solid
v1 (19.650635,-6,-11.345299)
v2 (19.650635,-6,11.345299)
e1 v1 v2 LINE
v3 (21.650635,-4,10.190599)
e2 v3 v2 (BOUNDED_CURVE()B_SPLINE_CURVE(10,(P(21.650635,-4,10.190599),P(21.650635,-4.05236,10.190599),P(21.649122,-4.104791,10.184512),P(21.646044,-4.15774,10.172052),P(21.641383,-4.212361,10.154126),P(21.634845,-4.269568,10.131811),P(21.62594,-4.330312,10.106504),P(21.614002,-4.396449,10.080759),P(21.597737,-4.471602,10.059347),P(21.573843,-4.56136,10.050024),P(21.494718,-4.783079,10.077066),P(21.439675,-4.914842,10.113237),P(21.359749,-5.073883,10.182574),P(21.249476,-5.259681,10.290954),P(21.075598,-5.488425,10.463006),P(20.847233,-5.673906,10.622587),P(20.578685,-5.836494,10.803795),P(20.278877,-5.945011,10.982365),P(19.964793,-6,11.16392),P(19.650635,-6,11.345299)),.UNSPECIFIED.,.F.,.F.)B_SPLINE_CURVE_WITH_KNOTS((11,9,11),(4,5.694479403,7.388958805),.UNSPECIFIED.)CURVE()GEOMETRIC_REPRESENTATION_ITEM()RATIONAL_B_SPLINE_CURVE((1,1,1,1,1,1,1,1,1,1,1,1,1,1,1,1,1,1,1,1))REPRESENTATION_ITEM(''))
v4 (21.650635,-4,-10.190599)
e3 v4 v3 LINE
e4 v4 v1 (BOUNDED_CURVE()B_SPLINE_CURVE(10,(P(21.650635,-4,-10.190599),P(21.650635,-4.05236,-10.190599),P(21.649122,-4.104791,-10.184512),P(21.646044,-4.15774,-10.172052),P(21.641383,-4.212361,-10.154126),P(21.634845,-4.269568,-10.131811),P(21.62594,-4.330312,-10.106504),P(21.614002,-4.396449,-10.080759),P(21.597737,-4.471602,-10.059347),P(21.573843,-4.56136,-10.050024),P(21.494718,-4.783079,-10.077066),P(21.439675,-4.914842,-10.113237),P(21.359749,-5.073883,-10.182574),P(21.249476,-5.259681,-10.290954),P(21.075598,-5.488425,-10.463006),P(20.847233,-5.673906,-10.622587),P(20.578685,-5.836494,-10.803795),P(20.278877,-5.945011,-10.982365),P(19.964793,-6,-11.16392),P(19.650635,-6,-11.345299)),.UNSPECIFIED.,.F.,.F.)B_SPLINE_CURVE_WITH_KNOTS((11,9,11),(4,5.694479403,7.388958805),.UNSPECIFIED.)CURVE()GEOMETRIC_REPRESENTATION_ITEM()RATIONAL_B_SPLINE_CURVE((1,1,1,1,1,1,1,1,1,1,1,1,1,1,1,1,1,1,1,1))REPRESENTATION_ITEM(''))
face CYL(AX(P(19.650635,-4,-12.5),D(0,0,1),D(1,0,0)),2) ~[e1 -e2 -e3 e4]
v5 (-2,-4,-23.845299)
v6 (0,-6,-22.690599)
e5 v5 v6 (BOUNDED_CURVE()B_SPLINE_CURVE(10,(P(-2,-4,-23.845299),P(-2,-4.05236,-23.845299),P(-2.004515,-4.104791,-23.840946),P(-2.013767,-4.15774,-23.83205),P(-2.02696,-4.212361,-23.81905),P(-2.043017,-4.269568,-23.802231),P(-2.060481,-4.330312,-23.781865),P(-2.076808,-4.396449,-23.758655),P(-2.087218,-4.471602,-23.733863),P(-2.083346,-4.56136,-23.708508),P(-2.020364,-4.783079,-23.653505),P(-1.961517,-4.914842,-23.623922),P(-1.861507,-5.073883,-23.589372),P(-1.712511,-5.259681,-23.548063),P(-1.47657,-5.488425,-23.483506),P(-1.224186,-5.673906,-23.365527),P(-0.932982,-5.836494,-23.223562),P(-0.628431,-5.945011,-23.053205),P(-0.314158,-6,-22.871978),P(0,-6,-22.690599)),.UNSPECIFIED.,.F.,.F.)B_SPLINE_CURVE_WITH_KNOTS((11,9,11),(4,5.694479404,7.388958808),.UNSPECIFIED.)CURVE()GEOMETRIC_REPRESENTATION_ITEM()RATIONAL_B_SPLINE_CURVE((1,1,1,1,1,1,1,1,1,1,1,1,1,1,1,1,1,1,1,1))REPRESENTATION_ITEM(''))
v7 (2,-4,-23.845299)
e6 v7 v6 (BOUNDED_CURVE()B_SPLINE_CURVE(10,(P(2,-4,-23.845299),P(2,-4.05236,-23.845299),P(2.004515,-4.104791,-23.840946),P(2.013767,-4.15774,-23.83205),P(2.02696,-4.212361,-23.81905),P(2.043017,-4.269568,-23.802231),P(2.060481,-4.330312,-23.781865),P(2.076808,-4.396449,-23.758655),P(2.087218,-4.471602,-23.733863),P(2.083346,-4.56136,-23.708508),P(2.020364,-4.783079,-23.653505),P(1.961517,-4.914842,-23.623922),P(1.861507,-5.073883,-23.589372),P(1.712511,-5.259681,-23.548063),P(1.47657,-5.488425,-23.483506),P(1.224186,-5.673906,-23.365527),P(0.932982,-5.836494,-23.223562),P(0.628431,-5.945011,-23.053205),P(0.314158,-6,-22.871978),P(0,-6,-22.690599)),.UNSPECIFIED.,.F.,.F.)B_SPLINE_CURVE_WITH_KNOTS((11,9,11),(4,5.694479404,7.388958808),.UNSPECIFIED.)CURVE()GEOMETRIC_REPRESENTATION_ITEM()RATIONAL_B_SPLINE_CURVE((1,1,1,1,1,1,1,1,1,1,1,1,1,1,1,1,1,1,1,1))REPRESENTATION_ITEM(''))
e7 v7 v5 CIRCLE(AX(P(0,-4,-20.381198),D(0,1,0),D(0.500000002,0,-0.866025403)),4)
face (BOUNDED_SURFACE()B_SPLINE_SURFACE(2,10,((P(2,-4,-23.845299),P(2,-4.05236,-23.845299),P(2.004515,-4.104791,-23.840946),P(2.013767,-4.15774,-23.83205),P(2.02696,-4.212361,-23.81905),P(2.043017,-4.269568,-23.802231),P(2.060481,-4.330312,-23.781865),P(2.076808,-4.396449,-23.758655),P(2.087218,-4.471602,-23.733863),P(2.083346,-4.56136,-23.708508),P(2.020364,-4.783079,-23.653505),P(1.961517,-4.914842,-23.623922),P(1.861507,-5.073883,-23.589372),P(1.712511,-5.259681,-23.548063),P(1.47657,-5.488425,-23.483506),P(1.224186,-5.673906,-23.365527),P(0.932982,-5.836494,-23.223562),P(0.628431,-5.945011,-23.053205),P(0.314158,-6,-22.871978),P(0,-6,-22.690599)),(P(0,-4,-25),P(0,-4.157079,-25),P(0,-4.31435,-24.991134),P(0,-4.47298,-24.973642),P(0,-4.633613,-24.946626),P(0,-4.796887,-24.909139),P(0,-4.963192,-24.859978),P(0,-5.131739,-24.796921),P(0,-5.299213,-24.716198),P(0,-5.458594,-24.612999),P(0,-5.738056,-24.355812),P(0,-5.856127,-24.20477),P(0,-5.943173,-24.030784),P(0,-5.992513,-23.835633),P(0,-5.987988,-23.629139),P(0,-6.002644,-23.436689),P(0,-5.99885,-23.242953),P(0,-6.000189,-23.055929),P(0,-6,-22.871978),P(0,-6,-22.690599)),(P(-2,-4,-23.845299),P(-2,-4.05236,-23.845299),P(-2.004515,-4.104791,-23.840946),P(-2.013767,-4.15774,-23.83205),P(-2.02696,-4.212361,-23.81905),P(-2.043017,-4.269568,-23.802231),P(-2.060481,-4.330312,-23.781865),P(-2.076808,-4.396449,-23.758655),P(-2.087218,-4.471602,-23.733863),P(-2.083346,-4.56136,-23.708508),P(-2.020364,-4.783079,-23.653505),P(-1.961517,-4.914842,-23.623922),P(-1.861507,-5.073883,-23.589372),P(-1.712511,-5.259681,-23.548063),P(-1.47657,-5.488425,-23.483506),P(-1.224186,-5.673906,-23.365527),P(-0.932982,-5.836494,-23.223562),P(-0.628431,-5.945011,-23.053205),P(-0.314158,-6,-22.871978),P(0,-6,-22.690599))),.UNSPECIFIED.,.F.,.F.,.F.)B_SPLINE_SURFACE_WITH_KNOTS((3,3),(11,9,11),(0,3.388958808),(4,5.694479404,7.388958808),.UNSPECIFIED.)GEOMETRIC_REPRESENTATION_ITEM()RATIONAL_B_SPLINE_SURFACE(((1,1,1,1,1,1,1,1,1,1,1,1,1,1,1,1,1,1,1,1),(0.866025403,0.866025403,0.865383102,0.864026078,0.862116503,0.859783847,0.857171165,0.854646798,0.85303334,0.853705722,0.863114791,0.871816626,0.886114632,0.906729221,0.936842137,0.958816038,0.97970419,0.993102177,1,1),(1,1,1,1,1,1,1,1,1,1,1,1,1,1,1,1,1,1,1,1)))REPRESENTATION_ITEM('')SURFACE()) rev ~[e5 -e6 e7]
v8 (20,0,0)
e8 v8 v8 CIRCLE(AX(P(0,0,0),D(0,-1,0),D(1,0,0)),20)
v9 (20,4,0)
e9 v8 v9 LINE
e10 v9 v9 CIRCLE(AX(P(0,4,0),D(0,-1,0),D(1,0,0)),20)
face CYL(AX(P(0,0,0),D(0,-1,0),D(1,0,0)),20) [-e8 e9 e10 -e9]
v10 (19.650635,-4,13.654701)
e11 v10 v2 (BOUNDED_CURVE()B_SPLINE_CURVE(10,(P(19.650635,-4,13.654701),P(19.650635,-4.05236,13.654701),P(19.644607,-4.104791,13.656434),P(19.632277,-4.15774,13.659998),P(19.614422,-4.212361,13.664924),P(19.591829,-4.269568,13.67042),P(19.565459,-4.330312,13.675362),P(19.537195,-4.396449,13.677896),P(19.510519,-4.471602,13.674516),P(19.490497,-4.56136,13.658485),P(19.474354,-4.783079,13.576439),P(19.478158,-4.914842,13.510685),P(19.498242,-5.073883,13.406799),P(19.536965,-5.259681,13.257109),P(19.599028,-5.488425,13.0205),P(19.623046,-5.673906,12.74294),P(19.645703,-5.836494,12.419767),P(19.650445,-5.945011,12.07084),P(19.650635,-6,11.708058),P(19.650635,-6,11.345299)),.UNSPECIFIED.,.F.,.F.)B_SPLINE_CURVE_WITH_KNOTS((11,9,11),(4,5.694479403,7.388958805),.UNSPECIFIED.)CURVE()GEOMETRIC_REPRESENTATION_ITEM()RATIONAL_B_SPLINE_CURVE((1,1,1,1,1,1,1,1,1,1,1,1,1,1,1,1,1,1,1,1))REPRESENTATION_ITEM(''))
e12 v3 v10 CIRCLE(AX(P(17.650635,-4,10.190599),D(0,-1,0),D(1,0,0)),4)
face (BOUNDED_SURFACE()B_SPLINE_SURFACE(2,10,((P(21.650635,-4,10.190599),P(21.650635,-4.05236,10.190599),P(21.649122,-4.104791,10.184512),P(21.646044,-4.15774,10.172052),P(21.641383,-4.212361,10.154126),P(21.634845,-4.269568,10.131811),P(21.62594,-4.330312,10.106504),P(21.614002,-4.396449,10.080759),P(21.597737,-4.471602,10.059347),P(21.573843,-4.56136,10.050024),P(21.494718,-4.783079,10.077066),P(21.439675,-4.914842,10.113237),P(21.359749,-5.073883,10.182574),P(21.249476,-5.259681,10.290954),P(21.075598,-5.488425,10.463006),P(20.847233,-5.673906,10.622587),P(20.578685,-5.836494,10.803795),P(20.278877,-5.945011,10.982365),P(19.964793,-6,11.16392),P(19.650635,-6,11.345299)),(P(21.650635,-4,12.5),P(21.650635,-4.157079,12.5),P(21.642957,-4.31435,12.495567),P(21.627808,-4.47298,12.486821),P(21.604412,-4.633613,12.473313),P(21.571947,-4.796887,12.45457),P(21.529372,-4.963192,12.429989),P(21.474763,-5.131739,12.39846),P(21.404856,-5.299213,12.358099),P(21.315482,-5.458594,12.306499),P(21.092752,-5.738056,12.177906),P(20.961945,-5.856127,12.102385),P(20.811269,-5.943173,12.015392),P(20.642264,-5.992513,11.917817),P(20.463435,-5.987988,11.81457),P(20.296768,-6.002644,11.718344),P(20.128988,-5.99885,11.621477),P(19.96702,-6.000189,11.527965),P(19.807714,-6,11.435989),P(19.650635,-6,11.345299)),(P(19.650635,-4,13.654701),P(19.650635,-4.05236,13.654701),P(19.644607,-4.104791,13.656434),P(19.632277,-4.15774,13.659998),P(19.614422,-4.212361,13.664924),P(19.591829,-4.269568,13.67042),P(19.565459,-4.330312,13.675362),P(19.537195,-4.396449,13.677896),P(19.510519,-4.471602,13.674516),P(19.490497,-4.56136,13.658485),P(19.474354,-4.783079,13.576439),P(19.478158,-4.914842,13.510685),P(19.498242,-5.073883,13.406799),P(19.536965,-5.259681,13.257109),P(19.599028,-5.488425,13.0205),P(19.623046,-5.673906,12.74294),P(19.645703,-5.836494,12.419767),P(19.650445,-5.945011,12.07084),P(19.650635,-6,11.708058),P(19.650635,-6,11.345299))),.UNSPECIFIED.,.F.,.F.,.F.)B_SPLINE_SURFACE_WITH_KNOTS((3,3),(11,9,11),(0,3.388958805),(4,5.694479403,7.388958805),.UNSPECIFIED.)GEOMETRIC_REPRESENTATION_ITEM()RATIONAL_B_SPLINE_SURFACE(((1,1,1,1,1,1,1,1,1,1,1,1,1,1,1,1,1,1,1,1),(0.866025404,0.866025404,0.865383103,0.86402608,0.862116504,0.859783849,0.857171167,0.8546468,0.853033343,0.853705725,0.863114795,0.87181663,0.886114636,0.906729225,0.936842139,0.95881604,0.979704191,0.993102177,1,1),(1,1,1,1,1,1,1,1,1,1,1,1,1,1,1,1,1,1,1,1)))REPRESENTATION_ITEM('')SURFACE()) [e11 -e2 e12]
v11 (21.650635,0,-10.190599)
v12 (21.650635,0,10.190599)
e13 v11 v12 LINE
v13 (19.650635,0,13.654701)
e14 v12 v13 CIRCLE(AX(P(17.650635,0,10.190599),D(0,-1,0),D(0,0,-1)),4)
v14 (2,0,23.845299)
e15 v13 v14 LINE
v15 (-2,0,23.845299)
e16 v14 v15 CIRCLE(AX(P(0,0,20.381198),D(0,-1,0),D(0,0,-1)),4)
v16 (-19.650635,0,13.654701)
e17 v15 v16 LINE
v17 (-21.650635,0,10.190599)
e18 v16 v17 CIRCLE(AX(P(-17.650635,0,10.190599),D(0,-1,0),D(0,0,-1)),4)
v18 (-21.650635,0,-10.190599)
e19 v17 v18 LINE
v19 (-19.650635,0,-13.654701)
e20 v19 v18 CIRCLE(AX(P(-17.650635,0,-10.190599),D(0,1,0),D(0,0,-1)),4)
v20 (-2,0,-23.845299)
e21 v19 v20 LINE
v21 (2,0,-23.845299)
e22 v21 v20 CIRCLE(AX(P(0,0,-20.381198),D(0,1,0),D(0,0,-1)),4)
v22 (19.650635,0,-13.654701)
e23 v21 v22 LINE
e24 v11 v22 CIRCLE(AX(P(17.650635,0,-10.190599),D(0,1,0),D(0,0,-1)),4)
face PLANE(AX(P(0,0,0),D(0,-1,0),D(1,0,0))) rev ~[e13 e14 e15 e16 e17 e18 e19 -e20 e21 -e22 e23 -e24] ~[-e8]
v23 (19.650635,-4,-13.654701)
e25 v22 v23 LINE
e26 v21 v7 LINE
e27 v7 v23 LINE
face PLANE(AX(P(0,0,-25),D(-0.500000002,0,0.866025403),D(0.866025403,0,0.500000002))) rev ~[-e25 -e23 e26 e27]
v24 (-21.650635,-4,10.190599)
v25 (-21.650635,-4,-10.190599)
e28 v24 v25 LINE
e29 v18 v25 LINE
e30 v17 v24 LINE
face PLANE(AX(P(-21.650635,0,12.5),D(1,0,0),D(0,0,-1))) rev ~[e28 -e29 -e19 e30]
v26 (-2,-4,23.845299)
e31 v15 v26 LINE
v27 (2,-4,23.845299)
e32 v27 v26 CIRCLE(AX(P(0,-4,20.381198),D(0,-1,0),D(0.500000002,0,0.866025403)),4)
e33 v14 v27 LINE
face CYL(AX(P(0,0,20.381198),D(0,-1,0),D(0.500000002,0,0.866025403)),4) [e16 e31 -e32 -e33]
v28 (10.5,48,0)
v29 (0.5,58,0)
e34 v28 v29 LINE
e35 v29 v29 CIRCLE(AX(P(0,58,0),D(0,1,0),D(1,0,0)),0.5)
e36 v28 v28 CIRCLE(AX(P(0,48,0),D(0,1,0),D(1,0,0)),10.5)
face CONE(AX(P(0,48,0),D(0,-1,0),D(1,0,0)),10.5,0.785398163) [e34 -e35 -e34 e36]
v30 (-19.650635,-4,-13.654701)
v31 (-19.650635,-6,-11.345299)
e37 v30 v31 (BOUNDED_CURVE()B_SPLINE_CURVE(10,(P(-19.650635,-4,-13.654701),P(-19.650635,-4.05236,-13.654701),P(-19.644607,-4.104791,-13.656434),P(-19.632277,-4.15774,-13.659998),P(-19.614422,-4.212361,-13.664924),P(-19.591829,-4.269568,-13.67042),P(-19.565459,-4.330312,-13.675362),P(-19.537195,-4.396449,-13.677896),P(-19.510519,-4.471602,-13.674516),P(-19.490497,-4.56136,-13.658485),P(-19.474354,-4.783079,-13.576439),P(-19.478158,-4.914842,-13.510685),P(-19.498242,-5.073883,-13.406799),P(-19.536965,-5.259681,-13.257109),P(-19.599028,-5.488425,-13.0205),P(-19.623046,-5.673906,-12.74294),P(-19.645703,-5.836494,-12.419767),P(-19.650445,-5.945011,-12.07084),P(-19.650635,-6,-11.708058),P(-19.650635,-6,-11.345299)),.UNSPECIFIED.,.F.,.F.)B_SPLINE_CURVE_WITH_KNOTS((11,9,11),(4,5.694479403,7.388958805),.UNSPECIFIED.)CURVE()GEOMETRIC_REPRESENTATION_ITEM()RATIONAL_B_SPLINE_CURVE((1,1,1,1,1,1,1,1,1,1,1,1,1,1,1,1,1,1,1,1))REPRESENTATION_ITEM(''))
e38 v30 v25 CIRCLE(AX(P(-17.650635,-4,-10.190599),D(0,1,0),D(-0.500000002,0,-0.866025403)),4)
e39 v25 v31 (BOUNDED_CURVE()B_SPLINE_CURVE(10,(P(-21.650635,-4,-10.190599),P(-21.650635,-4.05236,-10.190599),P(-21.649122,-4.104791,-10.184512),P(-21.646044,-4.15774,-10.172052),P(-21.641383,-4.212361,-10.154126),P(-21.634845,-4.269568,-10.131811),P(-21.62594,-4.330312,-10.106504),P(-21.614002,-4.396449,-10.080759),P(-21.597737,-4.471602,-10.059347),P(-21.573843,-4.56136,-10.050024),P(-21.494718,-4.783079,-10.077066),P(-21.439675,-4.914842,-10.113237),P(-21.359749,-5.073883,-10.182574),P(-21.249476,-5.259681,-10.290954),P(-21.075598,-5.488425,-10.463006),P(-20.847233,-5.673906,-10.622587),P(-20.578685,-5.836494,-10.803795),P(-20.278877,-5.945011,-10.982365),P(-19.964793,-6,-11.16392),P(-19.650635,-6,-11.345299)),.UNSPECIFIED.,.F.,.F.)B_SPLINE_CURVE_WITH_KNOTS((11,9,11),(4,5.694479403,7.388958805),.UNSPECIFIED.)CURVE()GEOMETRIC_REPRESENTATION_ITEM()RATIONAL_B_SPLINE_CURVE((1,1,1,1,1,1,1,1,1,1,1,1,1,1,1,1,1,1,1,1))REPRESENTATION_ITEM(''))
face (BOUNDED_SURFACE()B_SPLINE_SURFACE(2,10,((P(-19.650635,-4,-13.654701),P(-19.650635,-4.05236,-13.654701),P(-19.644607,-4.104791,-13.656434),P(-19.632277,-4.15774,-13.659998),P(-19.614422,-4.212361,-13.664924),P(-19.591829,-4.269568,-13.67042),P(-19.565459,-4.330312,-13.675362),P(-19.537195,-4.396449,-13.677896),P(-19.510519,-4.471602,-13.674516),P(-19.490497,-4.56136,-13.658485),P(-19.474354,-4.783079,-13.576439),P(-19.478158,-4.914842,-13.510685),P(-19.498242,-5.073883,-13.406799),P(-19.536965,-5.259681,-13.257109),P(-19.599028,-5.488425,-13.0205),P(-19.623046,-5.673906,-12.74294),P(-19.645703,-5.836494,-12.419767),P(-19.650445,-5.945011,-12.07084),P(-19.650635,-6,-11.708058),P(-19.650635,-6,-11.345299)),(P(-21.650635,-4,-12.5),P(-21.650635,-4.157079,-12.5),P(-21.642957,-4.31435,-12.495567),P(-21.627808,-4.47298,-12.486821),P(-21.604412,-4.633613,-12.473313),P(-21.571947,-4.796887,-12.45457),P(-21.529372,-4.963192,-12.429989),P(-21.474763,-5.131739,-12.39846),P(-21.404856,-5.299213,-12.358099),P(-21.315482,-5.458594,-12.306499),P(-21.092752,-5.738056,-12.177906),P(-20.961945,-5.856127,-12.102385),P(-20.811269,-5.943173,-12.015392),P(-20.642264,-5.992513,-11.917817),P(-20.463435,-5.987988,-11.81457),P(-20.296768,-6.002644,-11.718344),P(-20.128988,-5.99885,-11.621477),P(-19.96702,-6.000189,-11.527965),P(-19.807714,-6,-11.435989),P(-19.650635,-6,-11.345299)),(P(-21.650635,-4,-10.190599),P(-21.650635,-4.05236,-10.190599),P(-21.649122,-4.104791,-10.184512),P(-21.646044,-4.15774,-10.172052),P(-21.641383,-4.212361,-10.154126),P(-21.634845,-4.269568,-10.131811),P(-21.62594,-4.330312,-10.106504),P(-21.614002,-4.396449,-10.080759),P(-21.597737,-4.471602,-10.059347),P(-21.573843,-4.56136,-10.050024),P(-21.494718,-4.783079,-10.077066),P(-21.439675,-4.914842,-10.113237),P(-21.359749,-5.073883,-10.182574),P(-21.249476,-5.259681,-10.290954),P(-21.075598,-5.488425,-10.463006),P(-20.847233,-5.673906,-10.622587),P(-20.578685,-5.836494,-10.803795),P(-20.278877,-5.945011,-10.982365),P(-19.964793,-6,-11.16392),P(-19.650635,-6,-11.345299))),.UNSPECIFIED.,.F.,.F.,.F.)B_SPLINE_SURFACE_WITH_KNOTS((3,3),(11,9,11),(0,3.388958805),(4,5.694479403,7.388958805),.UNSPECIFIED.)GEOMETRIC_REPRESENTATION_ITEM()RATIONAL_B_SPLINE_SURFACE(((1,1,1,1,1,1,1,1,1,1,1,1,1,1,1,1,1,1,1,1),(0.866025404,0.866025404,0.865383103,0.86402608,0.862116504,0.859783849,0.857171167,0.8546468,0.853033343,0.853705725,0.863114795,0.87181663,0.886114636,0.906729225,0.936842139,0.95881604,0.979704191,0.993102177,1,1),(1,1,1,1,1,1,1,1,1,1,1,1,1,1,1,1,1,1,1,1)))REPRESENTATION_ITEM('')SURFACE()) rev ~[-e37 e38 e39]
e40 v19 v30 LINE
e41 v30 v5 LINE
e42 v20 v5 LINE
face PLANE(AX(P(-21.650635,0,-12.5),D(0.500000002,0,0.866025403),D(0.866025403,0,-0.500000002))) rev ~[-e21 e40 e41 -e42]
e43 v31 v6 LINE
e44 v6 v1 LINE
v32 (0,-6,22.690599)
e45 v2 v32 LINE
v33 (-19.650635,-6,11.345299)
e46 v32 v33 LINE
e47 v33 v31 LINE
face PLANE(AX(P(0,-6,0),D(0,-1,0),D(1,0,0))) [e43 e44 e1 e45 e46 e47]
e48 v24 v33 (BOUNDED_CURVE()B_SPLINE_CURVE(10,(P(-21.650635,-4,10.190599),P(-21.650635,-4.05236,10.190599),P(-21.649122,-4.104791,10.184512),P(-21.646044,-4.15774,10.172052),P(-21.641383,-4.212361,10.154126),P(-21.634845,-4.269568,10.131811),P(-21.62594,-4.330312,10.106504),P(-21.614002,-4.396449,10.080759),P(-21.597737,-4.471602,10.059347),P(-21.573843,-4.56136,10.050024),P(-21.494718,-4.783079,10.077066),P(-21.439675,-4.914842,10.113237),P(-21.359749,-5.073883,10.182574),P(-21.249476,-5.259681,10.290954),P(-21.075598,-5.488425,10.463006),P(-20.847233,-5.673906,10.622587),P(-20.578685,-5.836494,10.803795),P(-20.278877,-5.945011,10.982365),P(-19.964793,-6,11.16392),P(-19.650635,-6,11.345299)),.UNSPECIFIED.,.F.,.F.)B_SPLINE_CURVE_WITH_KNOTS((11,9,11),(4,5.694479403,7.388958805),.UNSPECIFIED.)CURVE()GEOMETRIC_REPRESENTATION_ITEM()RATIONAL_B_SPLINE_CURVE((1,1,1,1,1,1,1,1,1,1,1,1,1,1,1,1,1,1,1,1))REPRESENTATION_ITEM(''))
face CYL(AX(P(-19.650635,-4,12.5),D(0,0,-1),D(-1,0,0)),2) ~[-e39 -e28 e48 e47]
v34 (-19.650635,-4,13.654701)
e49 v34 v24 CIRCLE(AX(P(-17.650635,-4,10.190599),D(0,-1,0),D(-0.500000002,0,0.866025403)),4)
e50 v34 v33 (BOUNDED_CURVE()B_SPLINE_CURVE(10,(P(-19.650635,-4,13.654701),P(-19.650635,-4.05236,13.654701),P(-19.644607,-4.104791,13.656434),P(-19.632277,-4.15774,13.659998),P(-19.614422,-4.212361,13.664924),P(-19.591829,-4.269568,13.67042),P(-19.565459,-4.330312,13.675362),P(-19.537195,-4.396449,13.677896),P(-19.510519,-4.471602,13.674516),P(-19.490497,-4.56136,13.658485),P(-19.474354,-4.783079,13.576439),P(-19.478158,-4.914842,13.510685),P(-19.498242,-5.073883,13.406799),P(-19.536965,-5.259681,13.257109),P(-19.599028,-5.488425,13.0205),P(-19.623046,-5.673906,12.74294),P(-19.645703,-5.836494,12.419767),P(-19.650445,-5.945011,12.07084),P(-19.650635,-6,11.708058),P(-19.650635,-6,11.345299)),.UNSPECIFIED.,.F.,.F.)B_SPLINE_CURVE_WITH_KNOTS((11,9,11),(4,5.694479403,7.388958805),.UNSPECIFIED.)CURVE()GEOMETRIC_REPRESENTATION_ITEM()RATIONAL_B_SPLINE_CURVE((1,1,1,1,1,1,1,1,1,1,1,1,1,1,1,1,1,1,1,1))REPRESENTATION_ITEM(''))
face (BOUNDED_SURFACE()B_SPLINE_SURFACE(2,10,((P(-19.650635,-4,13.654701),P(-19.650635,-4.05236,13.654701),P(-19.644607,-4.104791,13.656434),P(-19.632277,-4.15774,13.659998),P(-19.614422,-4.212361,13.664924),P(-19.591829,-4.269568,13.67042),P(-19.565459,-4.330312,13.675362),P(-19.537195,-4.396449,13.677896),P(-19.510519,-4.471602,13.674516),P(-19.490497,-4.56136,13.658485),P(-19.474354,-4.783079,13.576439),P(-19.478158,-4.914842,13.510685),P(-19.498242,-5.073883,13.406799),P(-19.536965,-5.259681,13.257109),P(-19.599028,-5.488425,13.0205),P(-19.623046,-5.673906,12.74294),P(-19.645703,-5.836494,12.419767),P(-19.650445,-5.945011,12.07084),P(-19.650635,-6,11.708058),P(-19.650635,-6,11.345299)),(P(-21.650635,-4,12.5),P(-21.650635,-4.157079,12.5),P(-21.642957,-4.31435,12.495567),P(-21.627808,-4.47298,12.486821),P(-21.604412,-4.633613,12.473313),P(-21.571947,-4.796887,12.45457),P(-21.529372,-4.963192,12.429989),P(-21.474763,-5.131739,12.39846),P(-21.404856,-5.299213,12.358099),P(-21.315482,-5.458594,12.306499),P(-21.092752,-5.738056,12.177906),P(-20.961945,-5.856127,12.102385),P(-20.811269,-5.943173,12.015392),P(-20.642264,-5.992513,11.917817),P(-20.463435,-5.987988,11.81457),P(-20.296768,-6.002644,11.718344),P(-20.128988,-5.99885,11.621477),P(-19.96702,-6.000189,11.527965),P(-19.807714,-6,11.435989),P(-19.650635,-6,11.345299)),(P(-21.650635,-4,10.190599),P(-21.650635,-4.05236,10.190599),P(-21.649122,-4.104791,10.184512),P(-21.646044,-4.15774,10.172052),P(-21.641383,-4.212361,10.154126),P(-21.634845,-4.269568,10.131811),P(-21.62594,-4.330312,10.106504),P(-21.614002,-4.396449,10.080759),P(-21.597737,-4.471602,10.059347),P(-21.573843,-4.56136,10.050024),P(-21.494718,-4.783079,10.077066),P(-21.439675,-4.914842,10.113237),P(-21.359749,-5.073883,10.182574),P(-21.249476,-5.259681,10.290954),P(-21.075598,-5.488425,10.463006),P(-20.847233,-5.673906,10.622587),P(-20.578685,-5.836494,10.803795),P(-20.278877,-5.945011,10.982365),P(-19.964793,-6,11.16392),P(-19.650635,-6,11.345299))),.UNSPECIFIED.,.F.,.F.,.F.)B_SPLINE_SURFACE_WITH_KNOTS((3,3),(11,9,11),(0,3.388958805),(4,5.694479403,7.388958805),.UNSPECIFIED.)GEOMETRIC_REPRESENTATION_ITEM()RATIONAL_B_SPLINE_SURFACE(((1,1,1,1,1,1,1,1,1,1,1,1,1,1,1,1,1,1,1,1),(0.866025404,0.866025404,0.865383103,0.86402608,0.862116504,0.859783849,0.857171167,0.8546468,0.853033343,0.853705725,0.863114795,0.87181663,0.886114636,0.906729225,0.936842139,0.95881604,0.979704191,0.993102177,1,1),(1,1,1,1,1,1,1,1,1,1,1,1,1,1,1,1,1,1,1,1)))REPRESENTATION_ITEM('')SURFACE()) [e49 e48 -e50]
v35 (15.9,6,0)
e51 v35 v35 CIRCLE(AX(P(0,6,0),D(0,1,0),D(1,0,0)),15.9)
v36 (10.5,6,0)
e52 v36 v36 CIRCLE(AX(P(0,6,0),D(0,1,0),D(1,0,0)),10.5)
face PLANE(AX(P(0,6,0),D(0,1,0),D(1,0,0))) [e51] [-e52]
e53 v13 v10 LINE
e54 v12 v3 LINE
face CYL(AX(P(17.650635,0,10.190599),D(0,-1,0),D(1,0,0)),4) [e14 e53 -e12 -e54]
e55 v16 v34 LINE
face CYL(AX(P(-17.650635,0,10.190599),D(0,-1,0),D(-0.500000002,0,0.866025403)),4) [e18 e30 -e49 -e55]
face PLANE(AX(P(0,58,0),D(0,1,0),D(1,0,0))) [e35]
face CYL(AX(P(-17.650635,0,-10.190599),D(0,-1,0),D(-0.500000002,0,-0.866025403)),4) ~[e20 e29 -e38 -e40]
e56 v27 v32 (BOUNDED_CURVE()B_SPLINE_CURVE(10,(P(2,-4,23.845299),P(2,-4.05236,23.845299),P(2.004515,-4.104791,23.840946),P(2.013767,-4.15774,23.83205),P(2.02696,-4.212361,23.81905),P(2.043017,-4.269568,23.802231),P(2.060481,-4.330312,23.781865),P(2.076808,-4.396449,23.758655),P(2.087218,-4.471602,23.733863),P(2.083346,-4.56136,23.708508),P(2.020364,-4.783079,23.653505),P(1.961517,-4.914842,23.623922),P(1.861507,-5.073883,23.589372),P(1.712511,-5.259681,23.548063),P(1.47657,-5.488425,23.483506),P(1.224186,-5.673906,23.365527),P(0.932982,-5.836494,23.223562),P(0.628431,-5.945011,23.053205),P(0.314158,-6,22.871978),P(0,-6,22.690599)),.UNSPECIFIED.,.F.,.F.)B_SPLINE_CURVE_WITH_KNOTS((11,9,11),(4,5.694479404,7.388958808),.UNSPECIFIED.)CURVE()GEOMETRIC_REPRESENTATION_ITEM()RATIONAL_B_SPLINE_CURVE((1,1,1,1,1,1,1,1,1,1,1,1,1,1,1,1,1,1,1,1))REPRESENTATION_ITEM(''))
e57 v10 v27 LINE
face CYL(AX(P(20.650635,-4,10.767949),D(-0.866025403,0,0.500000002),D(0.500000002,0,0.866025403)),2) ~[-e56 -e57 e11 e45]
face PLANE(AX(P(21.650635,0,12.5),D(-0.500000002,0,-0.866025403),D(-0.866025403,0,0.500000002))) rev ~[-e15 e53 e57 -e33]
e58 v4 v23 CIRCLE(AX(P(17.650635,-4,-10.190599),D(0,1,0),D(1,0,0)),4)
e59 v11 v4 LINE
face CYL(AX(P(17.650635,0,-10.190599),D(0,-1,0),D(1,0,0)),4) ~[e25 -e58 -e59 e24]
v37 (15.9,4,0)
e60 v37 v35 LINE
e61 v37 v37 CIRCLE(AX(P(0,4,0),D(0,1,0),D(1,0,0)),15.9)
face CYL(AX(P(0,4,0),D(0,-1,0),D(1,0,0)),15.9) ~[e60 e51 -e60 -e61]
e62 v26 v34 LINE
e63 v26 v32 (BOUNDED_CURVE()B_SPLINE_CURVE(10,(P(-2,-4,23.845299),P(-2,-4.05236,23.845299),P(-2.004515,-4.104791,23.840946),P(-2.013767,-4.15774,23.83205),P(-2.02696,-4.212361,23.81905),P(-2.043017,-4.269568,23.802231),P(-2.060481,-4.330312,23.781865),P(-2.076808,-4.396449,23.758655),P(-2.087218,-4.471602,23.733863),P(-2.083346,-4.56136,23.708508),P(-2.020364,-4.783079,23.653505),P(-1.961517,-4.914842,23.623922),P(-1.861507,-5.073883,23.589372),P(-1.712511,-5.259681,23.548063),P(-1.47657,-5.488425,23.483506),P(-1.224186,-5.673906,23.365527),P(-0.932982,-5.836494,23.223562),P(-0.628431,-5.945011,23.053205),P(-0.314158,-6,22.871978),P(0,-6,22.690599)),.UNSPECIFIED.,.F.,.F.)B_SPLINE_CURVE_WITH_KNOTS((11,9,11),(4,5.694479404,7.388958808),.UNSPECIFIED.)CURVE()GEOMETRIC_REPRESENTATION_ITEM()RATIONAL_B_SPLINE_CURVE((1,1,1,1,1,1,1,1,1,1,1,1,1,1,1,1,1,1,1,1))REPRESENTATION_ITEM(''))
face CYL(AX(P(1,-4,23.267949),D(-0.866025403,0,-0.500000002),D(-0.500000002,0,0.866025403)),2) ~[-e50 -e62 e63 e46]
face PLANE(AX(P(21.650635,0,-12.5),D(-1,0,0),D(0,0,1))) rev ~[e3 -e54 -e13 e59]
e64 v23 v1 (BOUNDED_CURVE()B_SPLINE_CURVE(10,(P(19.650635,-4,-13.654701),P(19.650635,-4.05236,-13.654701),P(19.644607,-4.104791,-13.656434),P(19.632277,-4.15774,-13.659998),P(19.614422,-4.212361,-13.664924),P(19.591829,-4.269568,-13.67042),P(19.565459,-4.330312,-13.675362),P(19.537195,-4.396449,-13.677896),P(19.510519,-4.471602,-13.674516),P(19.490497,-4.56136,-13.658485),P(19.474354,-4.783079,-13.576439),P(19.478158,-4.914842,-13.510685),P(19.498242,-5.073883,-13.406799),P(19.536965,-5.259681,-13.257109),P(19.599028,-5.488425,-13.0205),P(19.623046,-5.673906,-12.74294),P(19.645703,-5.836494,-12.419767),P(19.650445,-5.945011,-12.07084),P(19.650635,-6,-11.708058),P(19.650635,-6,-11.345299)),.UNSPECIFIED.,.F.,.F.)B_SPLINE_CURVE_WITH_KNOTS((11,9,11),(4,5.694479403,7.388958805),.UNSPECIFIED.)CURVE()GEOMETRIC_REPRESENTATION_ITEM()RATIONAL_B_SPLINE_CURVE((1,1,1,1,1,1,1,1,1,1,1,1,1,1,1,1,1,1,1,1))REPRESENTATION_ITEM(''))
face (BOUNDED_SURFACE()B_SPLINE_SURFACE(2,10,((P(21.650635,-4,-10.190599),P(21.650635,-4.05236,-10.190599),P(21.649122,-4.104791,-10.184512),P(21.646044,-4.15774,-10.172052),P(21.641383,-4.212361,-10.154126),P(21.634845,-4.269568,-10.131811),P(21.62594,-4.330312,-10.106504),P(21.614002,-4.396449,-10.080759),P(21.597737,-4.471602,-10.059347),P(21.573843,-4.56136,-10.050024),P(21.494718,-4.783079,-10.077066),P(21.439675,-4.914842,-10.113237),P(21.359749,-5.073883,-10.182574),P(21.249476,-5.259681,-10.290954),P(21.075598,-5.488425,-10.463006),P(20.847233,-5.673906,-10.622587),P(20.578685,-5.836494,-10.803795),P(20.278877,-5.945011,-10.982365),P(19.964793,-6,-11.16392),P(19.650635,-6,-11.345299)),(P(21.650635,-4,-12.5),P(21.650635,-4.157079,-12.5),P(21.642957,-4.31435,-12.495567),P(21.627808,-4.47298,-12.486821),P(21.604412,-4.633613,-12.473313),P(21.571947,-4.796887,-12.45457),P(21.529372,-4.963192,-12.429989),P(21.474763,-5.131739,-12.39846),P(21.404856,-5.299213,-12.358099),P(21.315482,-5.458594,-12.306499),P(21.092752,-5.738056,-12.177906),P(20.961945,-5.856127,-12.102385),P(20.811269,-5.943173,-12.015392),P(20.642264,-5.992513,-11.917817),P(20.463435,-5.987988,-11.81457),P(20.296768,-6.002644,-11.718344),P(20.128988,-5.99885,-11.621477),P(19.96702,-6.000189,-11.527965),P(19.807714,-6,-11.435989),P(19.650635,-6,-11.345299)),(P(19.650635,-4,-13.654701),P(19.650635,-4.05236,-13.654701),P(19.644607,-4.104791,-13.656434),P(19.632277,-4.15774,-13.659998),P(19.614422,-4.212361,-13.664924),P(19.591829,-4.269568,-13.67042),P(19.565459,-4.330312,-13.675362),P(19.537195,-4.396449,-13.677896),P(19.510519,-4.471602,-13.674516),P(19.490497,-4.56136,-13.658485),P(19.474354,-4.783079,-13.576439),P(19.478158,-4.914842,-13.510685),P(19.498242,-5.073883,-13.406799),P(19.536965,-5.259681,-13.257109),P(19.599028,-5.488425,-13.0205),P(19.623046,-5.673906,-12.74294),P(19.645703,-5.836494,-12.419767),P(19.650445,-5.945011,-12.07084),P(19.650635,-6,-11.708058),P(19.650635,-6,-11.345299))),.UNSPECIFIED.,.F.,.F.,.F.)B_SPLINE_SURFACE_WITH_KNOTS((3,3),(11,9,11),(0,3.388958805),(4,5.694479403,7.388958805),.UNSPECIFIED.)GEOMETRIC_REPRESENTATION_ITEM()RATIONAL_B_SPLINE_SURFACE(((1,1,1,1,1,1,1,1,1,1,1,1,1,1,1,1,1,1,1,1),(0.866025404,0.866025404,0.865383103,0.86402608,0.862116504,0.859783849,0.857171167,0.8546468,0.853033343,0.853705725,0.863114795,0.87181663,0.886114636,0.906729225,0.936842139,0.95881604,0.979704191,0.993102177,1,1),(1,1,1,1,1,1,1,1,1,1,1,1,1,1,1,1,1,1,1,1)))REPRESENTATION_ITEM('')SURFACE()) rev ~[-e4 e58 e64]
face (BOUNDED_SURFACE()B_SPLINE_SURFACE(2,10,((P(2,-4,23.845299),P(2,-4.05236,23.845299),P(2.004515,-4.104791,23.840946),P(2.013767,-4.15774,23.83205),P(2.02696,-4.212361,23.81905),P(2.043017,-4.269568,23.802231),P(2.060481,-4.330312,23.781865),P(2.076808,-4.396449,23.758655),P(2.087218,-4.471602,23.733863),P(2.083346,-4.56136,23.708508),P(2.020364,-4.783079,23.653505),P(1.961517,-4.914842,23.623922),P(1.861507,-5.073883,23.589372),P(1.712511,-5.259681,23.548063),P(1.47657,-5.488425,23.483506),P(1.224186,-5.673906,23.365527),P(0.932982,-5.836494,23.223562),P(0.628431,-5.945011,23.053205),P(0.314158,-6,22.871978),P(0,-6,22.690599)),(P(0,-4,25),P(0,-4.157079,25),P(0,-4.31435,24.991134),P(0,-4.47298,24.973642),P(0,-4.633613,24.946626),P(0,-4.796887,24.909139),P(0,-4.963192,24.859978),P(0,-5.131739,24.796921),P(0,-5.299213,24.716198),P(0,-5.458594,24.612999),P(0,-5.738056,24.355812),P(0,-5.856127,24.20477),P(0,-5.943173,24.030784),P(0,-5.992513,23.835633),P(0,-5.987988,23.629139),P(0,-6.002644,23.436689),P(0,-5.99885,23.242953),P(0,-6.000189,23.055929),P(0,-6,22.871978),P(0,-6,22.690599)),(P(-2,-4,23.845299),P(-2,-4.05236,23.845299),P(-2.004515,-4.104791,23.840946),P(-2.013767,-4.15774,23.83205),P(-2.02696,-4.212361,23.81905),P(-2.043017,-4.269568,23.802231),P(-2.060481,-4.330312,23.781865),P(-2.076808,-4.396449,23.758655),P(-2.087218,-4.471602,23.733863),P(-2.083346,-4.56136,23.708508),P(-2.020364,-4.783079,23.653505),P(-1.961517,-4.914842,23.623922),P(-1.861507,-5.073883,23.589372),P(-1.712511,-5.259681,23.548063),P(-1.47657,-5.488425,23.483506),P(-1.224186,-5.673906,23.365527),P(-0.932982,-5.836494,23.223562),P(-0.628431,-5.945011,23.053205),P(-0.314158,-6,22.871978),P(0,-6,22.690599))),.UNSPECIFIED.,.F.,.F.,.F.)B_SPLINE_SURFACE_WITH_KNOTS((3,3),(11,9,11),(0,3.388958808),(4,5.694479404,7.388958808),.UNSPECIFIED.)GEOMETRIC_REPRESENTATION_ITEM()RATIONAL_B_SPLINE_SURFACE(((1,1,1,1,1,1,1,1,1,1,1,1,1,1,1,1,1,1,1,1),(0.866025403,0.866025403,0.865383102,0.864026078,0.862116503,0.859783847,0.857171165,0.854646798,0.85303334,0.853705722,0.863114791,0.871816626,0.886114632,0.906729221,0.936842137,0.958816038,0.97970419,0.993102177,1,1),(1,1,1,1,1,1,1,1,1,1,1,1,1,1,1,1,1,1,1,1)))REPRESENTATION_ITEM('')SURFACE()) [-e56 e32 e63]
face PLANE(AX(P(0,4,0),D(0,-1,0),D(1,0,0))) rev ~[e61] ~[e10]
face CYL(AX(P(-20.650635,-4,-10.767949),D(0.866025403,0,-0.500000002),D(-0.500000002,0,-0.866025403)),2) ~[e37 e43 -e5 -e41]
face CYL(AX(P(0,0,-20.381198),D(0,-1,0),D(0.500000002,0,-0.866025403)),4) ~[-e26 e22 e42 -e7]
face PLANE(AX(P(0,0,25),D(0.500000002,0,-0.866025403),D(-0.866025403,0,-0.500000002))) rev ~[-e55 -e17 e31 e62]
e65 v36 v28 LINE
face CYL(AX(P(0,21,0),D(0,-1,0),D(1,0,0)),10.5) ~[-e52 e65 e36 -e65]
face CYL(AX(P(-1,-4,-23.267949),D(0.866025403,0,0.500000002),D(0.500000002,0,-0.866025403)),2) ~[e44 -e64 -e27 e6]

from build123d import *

# Parameters (mm, degrees)
PAD001_DEPTH = 6
SKETCH003_R  = 20
PAD002_DEPTH = 4
SKETCH004_R  = 15.9
PAD003_DEPTH = 2
SKETCH005_R  = 10.5
PAD004_DEPTH = 15
SKETCH006_R  = 10.5
PAD005_DEPTH = 37
CHAMFER_SIZE = 10
FILLET002_R  = 2
FILLET003_R  = 4


with BuildPart() as part:
    # Sketch002 → Pad001 (new body)
    with BuildSketch(Plane.XZ):
        Polygon((21.650635, -12.5), (21.650635, 12.5), (0, 25), (-21.650635, 12.5), (-21.650635, -12.5), (0, -25), align=None)
    extrude(amount=PAD001_DEPTH)

    # Sketch003 → Pad002 (join)
    with BuildSketch(Plane.XZ):
        Circle(SKETCH003_R)
    extrude(amount=-PAD002_DEPTH)

    # Sketch004 (on Face10 of Pad002) → Pad003 (join)
    with BuildSketch(Plane(origin=(0, 4, 0), x_dir=(1, 0, 0), z_dir=(0, 1, 0))):
        Circle(SKETCH004_R)
    extrude(amount=PAD003_DEPTH)

    # Sketch005 (on Face12 of Pad003) → Pad004 (join)
    with BuildSketch(Plane(origin=(0, 6, 0), x_dir=(1, 0, 0), z_dir=(0, 1, 0))):
        Circle(SKETCH005_R)
    extrude(amount=PAD004_DEPTH)

    # Sketch006 (on Face14 of Pad004) → Pad005 (join)
    with BuildSketch(Plane(origin=(0, 21, 0), x_dir=(1, 0, 0), z_dir=(0, 1, 0))):
        Circle(SKETCH006_R)
    extrude(amount=PAD005_DEPTH)

    # Chamfer
    chamfer_edges = [part.edges().sort_by_distance(p)[0] for p in [
        (-10.5, 58, 0),
    ]]
    chamfer(chamfer_edges, length=CHAMFER_SIZE)

    # Fillet002
    fillet002_edges = [part.edges().sort_by_distance(p)[0] for p in [
        (-10.825318, -6, -18.75),
        (-21.650635, -6, 0),
        (-10.825318, -6, 18.75),
        (10.825318, -6, 18.75),
        (21.650635, -6, 0),
        (10.825318, -6, -18.75),
    ]]
    fillet(fillet002_edges, radius=FILLET002_R)

    # Fillet003
    fillet003_edges = [part.edges().sort_by_distance(p)[0] for p in [
        (0, -2, -25),
        (21.650635, -2, -12.5),
        (21.650635, -2, 12.5),
        (-21.650635, -2, -12.5),
        (-21.650635, -2, 12.5),
        (0, -2, 25),
    ]]
    fillet(fillet003_edges, radius=FILLET003_R)


solid = part.part
